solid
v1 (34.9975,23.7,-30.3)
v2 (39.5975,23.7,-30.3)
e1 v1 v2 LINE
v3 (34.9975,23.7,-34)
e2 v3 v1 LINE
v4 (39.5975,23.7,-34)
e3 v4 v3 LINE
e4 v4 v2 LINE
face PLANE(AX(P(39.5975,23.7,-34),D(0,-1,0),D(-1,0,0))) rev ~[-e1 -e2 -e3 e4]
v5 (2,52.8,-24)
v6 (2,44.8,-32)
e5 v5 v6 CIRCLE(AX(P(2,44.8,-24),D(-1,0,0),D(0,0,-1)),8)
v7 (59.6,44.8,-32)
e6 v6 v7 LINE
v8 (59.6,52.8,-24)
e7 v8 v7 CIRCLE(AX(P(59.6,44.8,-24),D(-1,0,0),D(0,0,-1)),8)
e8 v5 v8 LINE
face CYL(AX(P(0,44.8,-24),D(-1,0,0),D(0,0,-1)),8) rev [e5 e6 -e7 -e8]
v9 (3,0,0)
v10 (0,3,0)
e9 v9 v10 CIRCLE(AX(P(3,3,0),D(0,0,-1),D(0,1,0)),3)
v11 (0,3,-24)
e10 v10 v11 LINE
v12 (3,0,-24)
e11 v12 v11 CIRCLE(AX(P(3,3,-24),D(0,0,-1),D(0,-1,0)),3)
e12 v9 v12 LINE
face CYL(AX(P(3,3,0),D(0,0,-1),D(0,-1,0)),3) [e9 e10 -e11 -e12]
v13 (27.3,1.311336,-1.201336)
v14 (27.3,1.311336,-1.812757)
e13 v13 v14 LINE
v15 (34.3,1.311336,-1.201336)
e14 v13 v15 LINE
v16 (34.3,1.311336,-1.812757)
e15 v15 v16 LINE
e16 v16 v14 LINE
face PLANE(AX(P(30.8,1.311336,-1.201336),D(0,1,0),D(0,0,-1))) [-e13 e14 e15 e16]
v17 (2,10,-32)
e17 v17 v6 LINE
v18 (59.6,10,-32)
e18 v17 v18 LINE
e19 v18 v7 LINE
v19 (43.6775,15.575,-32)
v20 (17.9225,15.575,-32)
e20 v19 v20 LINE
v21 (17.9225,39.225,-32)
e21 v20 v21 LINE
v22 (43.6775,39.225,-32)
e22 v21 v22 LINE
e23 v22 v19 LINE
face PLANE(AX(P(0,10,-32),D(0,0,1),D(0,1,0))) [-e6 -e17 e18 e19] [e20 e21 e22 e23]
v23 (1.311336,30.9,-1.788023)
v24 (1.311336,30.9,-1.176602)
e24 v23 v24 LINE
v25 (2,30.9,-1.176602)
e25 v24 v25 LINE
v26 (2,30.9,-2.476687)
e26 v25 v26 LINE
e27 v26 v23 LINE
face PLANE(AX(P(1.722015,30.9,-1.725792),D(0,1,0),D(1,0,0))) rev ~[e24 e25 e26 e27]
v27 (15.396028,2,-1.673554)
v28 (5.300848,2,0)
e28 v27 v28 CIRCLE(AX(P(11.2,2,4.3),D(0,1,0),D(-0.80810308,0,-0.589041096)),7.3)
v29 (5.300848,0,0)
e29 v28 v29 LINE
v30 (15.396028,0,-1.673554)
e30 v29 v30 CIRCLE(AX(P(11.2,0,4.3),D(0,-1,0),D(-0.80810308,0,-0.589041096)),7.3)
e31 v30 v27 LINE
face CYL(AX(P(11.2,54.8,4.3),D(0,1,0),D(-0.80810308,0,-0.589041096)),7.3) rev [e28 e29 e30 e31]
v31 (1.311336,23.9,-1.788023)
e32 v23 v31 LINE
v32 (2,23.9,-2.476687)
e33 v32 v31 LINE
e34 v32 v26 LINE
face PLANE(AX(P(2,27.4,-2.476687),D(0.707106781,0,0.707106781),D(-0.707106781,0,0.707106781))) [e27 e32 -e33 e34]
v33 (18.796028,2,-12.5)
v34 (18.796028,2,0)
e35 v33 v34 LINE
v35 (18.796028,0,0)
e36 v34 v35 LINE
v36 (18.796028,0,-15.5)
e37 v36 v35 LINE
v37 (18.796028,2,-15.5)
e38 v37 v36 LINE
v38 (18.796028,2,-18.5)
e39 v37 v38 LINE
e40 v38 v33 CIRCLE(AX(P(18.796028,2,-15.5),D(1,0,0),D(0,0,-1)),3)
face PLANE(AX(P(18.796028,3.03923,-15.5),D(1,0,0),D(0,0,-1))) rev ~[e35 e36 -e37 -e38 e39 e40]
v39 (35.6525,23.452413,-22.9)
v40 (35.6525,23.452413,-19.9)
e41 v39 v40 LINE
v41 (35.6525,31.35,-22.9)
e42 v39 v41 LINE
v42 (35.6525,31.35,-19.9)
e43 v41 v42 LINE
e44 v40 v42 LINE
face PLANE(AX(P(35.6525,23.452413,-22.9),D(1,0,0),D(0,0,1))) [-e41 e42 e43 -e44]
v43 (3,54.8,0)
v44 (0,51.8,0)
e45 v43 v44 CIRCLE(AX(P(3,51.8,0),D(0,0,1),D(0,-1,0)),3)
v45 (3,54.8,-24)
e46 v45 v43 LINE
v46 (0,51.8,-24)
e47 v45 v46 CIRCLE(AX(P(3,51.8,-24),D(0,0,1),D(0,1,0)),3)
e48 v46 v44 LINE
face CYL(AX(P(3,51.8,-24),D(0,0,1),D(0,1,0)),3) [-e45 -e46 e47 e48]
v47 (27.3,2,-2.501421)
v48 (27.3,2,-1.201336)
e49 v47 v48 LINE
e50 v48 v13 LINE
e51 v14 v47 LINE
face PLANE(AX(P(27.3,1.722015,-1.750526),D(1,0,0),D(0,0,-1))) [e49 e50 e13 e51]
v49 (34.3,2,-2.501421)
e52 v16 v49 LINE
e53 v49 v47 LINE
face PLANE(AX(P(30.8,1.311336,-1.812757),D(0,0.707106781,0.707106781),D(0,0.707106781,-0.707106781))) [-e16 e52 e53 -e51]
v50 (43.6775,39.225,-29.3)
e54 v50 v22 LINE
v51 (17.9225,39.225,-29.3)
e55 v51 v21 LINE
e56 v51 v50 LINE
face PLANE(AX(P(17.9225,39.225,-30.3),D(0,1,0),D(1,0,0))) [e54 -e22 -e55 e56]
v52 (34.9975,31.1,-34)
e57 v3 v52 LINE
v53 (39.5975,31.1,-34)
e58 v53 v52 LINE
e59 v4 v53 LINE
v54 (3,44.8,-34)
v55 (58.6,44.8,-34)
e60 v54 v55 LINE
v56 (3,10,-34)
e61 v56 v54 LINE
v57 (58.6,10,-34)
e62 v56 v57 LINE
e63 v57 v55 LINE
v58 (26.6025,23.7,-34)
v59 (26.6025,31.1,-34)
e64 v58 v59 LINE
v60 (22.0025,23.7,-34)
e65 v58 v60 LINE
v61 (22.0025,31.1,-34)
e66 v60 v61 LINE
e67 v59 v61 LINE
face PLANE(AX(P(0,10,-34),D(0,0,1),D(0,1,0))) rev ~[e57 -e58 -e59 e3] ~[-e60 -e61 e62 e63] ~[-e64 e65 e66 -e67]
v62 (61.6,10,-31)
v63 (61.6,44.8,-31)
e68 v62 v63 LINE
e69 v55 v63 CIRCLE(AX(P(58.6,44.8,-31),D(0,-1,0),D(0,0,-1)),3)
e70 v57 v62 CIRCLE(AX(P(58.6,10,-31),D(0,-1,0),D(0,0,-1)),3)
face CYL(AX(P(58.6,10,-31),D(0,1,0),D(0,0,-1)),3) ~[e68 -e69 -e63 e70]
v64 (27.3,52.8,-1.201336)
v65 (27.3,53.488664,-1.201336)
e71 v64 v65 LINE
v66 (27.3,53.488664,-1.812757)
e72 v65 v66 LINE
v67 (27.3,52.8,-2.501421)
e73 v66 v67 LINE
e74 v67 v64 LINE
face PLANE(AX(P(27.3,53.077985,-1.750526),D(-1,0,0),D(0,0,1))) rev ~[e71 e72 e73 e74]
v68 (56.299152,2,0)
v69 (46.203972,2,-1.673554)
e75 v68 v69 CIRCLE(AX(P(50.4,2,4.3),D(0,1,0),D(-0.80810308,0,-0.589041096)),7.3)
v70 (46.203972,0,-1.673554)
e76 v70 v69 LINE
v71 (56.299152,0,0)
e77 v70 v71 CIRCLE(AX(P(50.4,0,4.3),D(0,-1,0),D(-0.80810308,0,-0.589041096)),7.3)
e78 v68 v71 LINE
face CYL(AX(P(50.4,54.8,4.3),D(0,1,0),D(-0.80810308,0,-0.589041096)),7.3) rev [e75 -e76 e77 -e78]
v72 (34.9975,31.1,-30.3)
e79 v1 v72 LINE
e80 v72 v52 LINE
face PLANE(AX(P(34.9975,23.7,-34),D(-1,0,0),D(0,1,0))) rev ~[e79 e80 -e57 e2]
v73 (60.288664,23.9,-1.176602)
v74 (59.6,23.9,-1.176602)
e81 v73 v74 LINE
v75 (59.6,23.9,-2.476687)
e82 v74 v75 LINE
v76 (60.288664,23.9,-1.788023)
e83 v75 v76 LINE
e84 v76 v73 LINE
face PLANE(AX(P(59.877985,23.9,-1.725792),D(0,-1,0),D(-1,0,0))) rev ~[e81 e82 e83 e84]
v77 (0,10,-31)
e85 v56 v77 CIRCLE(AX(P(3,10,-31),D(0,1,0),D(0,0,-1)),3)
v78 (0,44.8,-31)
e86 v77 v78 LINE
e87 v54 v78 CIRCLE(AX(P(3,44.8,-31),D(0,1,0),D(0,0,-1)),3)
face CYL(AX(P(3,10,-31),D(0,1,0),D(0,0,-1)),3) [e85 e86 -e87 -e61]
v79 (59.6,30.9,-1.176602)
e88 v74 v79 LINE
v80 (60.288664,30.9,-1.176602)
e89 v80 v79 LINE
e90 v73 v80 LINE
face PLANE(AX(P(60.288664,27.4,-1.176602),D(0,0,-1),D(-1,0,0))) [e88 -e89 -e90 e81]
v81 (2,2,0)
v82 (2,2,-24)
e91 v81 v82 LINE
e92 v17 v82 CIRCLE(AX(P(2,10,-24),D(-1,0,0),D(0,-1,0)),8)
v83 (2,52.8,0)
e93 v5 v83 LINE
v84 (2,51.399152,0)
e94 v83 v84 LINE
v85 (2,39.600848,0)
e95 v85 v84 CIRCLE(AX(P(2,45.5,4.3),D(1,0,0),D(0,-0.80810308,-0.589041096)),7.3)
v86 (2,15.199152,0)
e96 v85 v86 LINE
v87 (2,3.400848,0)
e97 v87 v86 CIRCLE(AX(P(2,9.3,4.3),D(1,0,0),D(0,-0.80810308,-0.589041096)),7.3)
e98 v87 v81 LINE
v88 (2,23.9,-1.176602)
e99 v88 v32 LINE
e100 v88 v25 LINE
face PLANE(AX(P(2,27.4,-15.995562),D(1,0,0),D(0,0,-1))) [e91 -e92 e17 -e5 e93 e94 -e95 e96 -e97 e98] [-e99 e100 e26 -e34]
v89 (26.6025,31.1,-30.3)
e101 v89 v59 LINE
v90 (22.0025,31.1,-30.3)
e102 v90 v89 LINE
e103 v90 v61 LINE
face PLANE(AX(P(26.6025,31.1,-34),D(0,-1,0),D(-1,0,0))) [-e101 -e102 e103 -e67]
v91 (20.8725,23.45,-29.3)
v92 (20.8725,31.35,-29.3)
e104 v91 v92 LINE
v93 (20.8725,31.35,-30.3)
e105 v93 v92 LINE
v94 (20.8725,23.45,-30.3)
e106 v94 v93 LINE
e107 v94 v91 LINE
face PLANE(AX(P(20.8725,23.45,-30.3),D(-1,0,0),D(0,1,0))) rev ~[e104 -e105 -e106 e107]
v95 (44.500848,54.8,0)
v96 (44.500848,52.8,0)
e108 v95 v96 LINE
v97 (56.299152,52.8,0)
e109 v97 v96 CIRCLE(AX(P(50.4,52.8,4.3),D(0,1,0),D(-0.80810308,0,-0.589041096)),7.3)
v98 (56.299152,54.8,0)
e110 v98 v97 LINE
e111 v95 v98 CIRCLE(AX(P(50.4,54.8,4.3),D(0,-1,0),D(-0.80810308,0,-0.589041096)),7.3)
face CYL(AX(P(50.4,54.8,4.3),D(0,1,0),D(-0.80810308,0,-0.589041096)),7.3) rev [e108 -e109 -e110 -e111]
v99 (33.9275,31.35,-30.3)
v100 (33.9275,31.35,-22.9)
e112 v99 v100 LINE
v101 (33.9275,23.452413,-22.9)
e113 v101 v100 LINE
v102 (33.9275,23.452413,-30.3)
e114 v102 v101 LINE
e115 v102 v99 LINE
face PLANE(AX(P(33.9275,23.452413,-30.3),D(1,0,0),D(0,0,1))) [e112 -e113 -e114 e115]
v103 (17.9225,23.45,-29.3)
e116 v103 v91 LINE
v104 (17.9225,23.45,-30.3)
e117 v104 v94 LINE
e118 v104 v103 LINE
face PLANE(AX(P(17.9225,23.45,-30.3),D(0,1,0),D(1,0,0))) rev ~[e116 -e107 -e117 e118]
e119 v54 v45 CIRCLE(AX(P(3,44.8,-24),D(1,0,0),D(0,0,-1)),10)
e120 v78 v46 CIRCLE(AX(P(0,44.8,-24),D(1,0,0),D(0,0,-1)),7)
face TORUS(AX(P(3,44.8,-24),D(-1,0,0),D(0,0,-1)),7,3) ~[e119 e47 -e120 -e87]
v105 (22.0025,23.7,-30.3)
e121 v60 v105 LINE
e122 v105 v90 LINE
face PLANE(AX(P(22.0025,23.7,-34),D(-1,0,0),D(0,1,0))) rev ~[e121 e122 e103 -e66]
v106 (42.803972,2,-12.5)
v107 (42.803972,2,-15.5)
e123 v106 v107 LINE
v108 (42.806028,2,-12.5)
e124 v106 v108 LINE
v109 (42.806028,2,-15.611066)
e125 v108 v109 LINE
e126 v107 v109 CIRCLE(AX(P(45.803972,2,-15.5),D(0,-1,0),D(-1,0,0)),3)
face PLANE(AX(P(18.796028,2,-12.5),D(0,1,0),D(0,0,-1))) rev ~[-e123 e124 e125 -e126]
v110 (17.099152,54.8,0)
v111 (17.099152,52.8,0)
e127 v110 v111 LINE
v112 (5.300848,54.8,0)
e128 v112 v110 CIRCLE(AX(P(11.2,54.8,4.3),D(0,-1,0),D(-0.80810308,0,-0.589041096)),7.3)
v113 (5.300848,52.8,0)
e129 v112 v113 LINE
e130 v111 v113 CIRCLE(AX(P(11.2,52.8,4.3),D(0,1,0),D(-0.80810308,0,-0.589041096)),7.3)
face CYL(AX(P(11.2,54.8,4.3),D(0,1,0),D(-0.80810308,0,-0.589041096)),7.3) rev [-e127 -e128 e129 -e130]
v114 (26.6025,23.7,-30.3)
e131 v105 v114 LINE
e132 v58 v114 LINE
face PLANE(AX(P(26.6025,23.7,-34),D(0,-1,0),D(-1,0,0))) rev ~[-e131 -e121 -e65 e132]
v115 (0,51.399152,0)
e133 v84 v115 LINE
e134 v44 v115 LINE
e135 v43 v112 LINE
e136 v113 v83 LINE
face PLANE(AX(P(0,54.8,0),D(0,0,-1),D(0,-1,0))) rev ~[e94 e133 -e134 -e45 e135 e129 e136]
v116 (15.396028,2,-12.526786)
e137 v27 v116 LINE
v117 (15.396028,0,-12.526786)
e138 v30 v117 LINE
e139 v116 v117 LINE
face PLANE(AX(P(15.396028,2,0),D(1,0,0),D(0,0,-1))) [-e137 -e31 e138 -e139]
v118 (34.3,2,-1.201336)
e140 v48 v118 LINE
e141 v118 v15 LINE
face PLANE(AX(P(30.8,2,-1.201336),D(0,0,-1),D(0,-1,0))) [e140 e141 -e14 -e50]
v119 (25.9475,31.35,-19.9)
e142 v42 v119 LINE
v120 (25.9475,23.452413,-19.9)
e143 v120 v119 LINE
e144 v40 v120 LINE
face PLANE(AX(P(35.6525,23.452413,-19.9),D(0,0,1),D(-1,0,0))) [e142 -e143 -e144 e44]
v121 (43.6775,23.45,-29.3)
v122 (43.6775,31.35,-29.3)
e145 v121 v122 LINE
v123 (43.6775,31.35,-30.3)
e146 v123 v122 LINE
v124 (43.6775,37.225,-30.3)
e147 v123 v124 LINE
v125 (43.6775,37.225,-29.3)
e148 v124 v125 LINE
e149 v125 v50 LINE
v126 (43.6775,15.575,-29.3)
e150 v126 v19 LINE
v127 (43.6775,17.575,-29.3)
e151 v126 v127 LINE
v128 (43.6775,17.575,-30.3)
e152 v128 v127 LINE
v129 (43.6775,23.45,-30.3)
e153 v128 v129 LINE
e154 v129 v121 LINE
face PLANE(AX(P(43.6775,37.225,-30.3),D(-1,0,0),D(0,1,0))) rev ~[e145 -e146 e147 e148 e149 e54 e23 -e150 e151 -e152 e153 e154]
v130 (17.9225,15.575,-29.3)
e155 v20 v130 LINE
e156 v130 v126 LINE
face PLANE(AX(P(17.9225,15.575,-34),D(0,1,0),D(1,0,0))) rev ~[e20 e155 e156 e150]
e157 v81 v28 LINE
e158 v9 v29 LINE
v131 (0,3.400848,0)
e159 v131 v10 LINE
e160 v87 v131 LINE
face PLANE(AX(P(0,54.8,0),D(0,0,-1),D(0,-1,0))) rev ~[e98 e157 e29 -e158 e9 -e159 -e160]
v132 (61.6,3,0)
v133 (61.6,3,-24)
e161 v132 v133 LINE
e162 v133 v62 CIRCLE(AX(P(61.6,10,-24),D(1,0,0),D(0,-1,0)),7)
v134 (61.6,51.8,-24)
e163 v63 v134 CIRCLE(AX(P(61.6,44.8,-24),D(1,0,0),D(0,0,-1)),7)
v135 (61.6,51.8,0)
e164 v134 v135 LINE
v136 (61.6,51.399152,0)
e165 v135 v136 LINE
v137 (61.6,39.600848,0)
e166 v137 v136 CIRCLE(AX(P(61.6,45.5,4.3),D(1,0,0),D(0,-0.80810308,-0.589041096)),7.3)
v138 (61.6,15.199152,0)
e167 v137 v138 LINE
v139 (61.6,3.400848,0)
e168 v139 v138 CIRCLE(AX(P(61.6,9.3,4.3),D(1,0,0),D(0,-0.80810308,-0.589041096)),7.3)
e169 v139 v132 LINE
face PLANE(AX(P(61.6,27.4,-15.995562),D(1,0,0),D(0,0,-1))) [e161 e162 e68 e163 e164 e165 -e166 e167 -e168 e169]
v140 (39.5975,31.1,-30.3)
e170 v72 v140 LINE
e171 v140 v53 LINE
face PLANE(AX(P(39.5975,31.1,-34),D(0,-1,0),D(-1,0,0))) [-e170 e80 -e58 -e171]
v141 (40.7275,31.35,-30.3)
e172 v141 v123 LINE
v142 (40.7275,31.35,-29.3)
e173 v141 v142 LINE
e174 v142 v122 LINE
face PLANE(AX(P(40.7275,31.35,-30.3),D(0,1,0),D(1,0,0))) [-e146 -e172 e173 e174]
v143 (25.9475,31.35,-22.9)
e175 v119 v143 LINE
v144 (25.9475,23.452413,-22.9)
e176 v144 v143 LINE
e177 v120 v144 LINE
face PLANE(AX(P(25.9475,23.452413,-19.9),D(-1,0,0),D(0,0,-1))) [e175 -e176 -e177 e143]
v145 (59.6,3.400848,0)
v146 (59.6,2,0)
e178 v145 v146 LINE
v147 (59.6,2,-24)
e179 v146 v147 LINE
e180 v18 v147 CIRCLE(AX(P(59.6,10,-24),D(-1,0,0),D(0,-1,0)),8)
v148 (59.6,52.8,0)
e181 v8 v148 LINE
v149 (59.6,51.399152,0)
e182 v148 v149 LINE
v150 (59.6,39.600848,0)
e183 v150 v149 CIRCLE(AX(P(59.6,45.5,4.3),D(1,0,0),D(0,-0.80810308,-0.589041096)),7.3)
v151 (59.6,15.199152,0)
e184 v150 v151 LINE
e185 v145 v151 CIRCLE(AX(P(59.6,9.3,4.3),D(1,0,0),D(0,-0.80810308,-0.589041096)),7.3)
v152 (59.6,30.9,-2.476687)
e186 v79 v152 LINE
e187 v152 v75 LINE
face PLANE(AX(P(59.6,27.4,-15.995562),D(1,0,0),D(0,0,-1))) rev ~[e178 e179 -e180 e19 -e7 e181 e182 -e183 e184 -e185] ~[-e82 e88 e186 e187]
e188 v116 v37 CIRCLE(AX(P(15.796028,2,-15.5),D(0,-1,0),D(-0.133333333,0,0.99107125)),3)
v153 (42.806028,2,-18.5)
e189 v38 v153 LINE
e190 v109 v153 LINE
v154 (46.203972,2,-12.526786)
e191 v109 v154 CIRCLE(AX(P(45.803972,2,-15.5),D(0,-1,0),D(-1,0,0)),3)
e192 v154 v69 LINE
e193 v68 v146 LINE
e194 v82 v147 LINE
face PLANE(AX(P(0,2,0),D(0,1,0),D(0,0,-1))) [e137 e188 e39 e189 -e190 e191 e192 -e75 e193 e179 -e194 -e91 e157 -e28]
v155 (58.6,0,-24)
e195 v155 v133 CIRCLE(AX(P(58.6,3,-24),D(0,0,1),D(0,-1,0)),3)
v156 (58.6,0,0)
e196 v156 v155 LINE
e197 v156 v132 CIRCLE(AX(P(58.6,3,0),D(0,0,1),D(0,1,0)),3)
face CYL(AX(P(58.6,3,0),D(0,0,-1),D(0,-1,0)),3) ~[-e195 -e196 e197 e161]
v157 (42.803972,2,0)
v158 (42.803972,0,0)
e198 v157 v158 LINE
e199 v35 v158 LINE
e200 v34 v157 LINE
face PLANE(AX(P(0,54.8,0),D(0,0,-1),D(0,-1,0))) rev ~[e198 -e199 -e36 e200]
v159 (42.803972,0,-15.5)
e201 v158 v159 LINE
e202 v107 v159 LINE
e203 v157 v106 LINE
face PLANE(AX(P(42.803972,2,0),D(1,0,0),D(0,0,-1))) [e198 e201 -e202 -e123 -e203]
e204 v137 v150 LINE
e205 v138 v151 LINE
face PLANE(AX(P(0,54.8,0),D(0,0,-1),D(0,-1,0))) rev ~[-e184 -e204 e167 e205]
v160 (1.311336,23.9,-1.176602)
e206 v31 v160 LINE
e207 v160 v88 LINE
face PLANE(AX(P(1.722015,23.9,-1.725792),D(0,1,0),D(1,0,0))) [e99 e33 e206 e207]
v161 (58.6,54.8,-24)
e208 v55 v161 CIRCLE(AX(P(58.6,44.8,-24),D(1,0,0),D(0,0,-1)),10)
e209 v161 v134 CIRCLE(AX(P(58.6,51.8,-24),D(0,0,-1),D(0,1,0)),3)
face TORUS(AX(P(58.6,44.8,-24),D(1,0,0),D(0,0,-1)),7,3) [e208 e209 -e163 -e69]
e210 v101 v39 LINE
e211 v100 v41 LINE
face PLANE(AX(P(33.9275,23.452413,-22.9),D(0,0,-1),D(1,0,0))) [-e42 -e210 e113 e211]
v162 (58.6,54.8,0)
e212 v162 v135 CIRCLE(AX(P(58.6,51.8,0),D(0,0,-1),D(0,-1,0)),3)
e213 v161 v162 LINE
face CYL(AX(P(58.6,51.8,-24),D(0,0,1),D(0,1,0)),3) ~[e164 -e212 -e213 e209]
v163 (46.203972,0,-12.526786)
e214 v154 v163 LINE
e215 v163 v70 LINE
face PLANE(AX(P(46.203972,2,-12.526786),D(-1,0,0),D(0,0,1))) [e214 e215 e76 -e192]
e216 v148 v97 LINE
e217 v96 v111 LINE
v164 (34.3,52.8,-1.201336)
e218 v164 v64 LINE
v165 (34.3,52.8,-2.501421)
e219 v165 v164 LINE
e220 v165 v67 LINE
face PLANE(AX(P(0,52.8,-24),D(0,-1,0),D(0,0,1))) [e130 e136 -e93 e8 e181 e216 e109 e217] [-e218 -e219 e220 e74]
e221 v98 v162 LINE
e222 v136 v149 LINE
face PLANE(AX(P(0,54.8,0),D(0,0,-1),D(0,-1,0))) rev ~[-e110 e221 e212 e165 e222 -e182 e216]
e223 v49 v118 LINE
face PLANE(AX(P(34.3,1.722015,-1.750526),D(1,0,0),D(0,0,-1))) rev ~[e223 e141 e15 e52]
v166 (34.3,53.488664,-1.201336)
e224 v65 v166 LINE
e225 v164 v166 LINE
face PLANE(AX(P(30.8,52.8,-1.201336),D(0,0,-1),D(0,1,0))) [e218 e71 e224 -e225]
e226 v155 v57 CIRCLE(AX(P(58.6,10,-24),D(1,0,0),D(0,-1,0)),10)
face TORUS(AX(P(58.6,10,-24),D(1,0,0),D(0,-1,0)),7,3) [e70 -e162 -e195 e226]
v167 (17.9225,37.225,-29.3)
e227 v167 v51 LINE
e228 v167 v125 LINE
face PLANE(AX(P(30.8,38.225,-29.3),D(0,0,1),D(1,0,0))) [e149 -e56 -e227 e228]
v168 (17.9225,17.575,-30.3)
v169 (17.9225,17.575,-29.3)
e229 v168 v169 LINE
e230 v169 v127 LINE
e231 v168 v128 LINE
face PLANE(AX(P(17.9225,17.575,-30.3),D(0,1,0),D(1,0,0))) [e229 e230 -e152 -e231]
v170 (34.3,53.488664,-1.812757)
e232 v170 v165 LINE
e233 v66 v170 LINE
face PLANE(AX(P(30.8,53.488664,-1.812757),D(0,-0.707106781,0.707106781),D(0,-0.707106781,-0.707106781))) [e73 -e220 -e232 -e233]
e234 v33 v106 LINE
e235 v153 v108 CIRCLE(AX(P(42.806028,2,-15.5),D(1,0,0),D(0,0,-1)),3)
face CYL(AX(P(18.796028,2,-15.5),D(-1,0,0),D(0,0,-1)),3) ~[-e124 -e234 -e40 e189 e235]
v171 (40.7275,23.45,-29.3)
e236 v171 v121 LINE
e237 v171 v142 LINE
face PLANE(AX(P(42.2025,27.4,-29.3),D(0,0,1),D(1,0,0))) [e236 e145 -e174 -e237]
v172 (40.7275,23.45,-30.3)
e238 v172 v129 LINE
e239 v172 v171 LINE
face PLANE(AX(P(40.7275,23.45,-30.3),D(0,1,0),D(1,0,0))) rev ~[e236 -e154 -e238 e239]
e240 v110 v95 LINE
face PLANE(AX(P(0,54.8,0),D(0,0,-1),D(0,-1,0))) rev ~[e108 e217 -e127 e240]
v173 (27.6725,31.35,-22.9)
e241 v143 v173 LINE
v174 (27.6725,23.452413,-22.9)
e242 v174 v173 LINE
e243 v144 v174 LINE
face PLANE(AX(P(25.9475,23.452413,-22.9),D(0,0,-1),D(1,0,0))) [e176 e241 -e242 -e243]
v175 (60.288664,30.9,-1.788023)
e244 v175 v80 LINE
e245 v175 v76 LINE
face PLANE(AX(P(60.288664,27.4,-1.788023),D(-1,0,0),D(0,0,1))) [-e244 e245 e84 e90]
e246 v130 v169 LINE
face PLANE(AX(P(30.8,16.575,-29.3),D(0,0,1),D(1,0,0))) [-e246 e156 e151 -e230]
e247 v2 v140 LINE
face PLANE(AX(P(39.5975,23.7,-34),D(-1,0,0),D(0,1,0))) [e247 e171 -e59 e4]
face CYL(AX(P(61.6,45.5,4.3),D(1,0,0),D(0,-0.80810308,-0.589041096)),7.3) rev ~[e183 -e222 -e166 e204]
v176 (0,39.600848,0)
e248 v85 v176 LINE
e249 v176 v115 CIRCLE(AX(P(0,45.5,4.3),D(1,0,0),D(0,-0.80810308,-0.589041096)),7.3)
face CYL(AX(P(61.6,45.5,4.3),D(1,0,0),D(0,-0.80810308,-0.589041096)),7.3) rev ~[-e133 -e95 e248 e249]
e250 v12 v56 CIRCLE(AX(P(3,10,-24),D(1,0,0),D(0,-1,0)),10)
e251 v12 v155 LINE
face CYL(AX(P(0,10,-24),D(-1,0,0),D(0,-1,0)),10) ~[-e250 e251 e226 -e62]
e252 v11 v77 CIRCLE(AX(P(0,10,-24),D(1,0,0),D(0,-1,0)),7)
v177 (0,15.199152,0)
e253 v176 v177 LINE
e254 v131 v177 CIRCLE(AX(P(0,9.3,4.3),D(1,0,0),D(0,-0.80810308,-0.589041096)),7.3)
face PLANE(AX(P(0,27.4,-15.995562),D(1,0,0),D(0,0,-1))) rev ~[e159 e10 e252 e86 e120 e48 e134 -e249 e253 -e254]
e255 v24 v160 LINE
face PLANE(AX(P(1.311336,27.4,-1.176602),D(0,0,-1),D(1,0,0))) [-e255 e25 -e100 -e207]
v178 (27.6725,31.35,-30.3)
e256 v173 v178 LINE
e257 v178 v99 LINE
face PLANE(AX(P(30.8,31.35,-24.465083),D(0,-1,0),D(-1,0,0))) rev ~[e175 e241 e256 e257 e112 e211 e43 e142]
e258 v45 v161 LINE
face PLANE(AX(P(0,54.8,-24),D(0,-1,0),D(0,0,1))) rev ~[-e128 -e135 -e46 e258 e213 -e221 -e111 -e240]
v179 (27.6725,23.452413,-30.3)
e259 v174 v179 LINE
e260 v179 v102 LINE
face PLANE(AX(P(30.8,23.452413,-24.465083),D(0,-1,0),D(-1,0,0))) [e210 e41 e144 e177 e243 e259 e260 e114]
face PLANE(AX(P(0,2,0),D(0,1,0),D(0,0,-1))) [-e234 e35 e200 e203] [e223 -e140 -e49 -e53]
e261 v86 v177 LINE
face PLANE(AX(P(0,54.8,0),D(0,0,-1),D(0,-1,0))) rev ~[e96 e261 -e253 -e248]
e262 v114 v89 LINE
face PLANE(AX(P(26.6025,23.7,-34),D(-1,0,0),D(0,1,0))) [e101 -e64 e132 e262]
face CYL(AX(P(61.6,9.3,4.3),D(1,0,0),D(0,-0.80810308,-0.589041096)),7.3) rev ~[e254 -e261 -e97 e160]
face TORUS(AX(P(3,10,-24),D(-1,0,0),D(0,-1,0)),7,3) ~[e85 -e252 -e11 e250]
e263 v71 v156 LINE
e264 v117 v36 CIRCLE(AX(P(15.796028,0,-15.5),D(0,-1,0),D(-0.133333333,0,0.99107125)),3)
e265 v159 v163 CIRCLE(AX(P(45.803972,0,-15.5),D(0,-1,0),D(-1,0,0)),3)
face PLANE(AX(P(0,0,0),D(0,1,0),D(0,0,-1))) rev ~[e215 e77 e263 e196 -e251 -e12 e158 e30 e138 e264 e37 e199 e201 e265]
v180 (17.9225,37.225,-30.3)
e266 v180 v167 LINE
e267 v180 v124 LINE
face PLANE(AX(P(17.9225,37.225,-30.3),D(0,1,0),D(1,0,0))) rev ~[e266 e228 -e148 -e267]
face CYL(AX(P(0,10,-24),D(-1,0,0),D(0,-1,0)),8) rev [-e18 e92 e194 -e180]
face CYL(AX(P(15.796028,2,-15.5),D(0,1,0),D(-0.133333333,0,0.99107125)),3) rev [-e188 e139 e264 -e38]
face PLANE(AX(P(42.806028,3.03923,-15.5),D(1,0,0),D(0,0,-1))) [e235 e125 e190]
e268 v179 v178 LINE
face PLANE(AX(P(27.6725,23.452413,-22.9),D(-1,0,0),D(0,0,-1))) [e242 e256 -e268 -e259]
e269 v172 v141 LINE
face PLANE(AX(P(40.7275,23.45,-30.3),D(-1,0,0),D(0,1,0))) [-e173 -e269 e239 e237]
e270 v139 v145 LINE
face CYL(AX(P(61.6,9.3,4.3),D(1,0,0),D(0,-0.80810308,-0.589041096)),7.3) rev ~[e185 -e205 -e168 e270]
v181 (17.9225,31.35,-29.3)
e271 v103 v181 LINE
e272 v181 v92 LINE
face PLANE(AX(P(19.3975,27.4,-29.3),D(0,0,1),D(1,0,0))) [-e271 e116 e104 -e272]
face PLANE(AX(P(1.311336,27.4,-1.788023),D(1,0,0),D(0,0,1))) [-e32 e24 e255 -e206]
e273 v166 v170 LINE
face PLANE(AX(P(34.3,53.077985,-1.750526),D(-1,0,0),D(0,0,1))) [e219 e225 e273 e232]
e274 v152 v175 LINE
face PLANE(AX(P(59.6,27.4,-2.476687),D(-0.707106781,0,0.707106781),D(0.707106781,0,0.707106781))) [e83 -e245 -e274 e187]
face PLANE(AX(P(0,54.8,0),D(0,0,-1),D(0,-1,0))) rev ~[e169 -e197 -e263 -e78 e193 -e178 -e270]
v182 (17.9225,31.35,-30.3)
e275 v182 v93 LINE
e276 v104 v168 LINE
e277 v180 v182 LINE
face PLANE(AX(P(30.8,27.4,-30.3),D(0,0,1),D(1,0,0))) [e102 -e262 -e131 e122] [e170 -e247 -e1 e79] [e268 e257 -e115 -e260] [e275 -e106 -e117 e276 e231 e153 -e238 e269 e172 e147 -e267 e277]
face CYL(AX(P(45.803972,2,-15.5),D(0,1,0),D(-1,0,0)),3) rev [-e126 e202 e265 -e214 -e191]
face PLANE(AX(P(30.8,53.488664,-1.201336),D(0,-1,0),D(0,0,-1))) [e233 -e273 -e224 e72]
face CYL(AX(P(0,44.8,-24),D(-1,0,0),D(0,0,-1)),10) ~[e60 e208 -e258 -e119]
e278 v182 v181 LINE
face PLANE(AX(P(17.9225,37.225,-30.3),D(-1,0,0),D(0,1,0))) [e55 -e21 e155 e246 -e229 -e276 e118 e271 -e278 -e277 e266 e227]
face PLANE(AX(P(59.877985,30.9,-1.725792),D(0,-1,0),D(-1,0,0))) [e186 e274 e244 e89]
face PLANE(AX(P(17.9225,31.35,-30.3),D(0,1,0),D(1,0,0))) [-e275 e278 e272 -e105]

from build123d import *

# Parameters (mm, degrees)
EXTRUDE_1_DEPTH     = 61.6
SHELL_1_T           = -2
FILLET_2_R          = 3
CUT_EXTRUDE_1_REACH = 36
SKETCH_3_W          = 4.6
SKETCH_3_H          = 7.4
SKETCH_4_W          = 4.6
SKETCH_4_H          = 7.4
EXTRUDE_2_DEPTH     = 3.7
SKETCH_5_W          = 2.95
SKETCH_5_H          = 7.9
SKETCH_5_W_2        = 25.755
SKETCH_5_H_2        = 2
EXTRUDE_3_DEPTH     = 1
EXTRUDE_4_DEPTH     = 7.897587
CUT_EXTRUDE_START   = -61.6
CUT_EXTRUDE_3_DEPTH = 61.6
CUT_EXTRUDE_START_2 = -54.8
CUT_EXTRUDE_4_DEPTH = 54.8
CUT_EXTRUDE_5_DEPTH = 3.5
CUT_EXTRUDE_6_DEPTH = 3.5
CUT_EXTRUDE_START_3 = -2
CUT_EXTRUDE_7_DEPTH = 2
EXTRUDE_5_DEPTH     = 24.01


with BuildPart() as part:
    # ｽｹｯﾁ2 → ﾎﾞｽ - 押し出し1 (new body)
    with BuildSketch(Plane(origin=(0, 0, 0), x_dir=(0, 0, -1), z_dir=(1, 0, 0))):
        with BuildLine():
            Line((0, 0), (24, 0))
            ThreePointArc((24, 0), (31.071067812, 2.928932188), (34, 10))
            Line((34, 10), (34, 44.8))
            ThreePointArc((34, 44.8), (31.071067812, 51.871067812), (24, 54.8))
            Line((24, 54.8), (0, 54.8))
            Line((0, 54.8), (0, 0))
        make_face()
    extrude(amount=EXTRUDE_1_DEPTH)

    # ｼｪﾙ1
    shell_1_openings = [part.faces().sort_by_distance(p)[0] for p in [
        (30.8, 27.4, 0),
    ]]
    offset(amount=SHELL_1_T, openings=shell_1_openings, kind=Kind.INTERSECTION)

    # ﾌｨﾚｯﾄ2
    fillet_2_edges = [part.edges().sort_by_distance(p)[0] for p in [
        (61.6, 2.928932188, -31.071067812),
        (61.6, 27.4, -34),
        (61.6, 51.871067812, -31.071067812),
        (61.6, 54.8, -12),
        (0, 54.8, -12),
        (0, 51.871067812, -31.071067812),
        (0, 27.4, -34),
        (61.6, 0, -12),
        (0, 2.928932188, -31.071067812),
        (0, 0, -12),
    ]]
    fillet(fillet_2_edges, radius=FILLET_2_R)

    # ｽｹｯﾁ3 → ｶｯﾄ - 押し出し1 (cut, up to next)
    with BuildSketch(Plane(origin=(0, 0, -34), x_dir=(-1, 0, 0), z_dir=(0, 0, -1)), mode=Mode.PRIVATE) as cut_extrude_1_sk1:
        with Locations((-37.2975, 27.4)):
            Rectangle(SKETCH_3_W, SKETCH_3_H)
    cut_extrude_1_tool1 = extrude(cut_extrude_1_sk1.sketch, amount=-CUT_EXTRUDE_1_REACH, mode=Mode.PRIVATE) & part.part
    add(cut_extrude_1_tool1.solids().sort_by_distance((37.2975, 27.4, -34))[0], mode=Mode.SUBTRACT)
    # ｽｹｯﾁ3 → ｶｯﾄ - 押し出し1 (cut, up to next)
    with BuildSketch(Plane(origin=(0, 0, -34), x_dir=(-1, 0, 0), z_dir=(0, 0, -1)), mode=Mode.PRIVATE) as cut_extrude_1_sk2:
        with Locations((-24.3025, 27.4)):
            Rectangle(SKETCH_3_W, SKETCH_3_H)
    cut_extrude_1_tool2 = extrude(cut_extrude_1_sk2.sketch, amount=-CUT_EXTRUDE_1_REACH, mode=Mode.PRIVATE) & part.part
    add(cut_extrude_1_tool2.solids().sort_by_distance((24.3025, 27.4, -34))[0], mode=Mode.SUBTRACT)

    # ｽｹｯﾁ4 → ﾎﾞｽ - 押し出し2 (add)
    with BuildSketch(Plane.XY.offset(-34)):
        Polygon((17.9225, 15.575), (30.6725, 15.575), (43.6775, 15.575), (43.6775, 39.225), (30.6725, 39.225), (17.9225, 39.225), align=None)
        with Locations((24.3025, 27.4)):
            Rectangle(SKETCH_4_W, SKETCH_4_H, mode=Mode.SUBTRACT)
        with Locations((37.2975, 27.4)):
            Rectangle(SKETCH_4_W, SKETCH_4_H, mode=Mode.SUBTRACT)
    extrude(amount=EXTRUDE_2_DEPTH)

    # ｽｹｯﾁ5 → ﾎﾞｽ - 押し出し3 (add)
    with BuildSketch(Plane.XY.offset(-30.3)):
        with Locations((19.3975, 27.4)):
            Rectangle(SKETCH_5_W, SKETCH_5_H)
        with Locations((42.2025, 27.4)):
            Rectangle(SKETCH_5_W, SKETCH_5_H)
        with Locations((30.8, 38.225)):
            Rectangle(SKETCH_5_W_2, SKETCH_5_H_2)
        with Locations((30.8, 16.575)):
            Rectangle(SKETCH_5_W_2, SKETCH_5_H_2)
    extrude(amount=EXTRUDE_3_DEPTH)

    # ｽｹｯﾁ6 → ﾎﾞｽ - 押し出し4 (add)
    with BuildSketch(Plane(origin=(-6.518280687, 23.45241299, -44.223812227), x_dir=(1, 0, 0), z_dir=(0, 1, 0))):
        Polygon((34.190780687, -13.923812227), (40.445780687, -13.923812227), (40.445780687, -21.323812227), (42.170780687, -21.323812227), (42.170780687, -24.323812227), (32.465780687, -24.323812227), (32.465780687, -21.323812227), (34.190780687, -21.323812227), align=None)
    extrude(amount=EXTRUDE_4_DEPTH)

    # ｽｹｯﾁ8 → ｶｯﾄ - 押し出し3 (cut)
    with BuildSketch(Plane.ZY.offset(CUT_EXTRUDE_START)):
        with BuildLine():
            Line((0, 51.399152482), (0, 39.600847518))
            ThreePointArc((0, 39.600847518), (-3, 45.5), (0, 51.399152482))
        make_face()
        with BuildLine():
            Line((0, 15.199152482), (0, 3.400847518))
            ThreePointArc((0, 3.400847518), (-3, 9.3), (0, 15.199152482))
        make_face()
    extrude(amount=CUT_EXTRUDE_3_DEPTH, mode=Mode.SUBTRACT)

    # ｽｹｯﾁ9 → ｶｯﾄ - 押し出し4 (cut)
    with BuildSketch(Plane.XZ.offset(CUT_EXTRUDE_START_2)):
        with BuildLine():
            Line((56.299152482, 0), (44.500847518, 0))
            ThreePointArc((44.500847518, 0), (50.4, -3), (56.299152482, 0))
        make_face()
        with BuildLine():
            Line((17.099152482, 0), (5.300847518, 0))
            ThreePointArc((5.300847518, 0), (11.2, -3), (17.099152482, 0))
        make_face()
    extrude(amount=CUT_EXTRUDE_4_DEPTH, mode=Mode.SUBTRACT)

    # ｽｹｯﾁ11 → ｶｯﾄ - 押し出し5 (cut, symmetric)
    with BuildSketch(Plane(origin=(0, 27.4, 0), x_dir=(-1, 0, 0), z_dir=(0, -1, 0))):
        Polygon((-59.6, 1.176601917), (-59.6, 2.476687437), (-60.288664164, 1.788023273), (-60.288664164, 1.176601917), align=None)
        Polygon((-1.311335836, 1.176601917), (-2, 1.176601917), (-2, 2.476687437), (-1.311335836, 1.788023273), align=None)
    extrude(amount=CUT_EXTRUDE_5_DEPTH, both=True, mode=Mode.SUBTRACT)

    # ｽｹｯﾁ12 → ｶｯﾄ - 押し出し6 (cut, symmetric)
    with BuildSketch(Plane(origin=(30.8, 0, 0), x_dir=(0, 0, -1), z_dir=(1, 0, 0))):
        Polygon((2.501421356, 2), (1.201335836, 2), (1.201335836, 1.311335836), (1.812757192, 1.311335836), align=None)
        Polygon((1.812757192, 53.488664164), (2.501421356, 52.8), (1.201335836, 52.8), (1.201335836, 53.488664164), align=None)
    extrude(amount=CUT_EXTRUDE_6_DEPTH, both=True, mode=Mode.SUBTRACT)

    # ｽｹｯﾁ13 → ｶｯﾄ - 押し出し7 (cut)
    with BuildSketch(Plane.XZ.offset(CUT_EXTRUDE_START_3)):
        with BuildLine():
            Line((15.396028325, 0), (15.396028325, -12.526786251))
            ThreePointArc((15.396028325, -12.526786251), (13.821186559, -17.758317958), (18.796028325, -15.5))
            Line((18.796028325, -15.5), (18.796028325, 0))
            Line((18.796028325, 0), (15.396028325, 0))
        make_face()
        with BuildLine():
            Line((46.203971675, 0), (42.803971675, 0))
            Line((42.803971675, 0), (42.803971675, -15.5))
            ThreePointArc((42.803971675, -15.5), (47.778813441, -17.758317958), (46.203971675, -12.526786251))
            Line((46.203971675, -12.526786251), (46.203971675, 0))
        make_face()
    extrude(amount=CUT_EXTRUDE_7_DEPTH, mode=Mode.SUBTRACT)

    # ｽｹｯﾁ14 → ﾎﾞｽ - 押し出し5 (add)
    with BuildSketch(Plane.ZY.offset(-18.796028325)):
        with BuildLine():
            Line((-12.5, 2), (-18.5, 2))
            ThreePointArc((-18.5, 2), (-15.5, 5), (-12.5, 2))
        make_face()
    extrude(amount=-EXTRUDE_5_DEPTH)


solid = part.part
